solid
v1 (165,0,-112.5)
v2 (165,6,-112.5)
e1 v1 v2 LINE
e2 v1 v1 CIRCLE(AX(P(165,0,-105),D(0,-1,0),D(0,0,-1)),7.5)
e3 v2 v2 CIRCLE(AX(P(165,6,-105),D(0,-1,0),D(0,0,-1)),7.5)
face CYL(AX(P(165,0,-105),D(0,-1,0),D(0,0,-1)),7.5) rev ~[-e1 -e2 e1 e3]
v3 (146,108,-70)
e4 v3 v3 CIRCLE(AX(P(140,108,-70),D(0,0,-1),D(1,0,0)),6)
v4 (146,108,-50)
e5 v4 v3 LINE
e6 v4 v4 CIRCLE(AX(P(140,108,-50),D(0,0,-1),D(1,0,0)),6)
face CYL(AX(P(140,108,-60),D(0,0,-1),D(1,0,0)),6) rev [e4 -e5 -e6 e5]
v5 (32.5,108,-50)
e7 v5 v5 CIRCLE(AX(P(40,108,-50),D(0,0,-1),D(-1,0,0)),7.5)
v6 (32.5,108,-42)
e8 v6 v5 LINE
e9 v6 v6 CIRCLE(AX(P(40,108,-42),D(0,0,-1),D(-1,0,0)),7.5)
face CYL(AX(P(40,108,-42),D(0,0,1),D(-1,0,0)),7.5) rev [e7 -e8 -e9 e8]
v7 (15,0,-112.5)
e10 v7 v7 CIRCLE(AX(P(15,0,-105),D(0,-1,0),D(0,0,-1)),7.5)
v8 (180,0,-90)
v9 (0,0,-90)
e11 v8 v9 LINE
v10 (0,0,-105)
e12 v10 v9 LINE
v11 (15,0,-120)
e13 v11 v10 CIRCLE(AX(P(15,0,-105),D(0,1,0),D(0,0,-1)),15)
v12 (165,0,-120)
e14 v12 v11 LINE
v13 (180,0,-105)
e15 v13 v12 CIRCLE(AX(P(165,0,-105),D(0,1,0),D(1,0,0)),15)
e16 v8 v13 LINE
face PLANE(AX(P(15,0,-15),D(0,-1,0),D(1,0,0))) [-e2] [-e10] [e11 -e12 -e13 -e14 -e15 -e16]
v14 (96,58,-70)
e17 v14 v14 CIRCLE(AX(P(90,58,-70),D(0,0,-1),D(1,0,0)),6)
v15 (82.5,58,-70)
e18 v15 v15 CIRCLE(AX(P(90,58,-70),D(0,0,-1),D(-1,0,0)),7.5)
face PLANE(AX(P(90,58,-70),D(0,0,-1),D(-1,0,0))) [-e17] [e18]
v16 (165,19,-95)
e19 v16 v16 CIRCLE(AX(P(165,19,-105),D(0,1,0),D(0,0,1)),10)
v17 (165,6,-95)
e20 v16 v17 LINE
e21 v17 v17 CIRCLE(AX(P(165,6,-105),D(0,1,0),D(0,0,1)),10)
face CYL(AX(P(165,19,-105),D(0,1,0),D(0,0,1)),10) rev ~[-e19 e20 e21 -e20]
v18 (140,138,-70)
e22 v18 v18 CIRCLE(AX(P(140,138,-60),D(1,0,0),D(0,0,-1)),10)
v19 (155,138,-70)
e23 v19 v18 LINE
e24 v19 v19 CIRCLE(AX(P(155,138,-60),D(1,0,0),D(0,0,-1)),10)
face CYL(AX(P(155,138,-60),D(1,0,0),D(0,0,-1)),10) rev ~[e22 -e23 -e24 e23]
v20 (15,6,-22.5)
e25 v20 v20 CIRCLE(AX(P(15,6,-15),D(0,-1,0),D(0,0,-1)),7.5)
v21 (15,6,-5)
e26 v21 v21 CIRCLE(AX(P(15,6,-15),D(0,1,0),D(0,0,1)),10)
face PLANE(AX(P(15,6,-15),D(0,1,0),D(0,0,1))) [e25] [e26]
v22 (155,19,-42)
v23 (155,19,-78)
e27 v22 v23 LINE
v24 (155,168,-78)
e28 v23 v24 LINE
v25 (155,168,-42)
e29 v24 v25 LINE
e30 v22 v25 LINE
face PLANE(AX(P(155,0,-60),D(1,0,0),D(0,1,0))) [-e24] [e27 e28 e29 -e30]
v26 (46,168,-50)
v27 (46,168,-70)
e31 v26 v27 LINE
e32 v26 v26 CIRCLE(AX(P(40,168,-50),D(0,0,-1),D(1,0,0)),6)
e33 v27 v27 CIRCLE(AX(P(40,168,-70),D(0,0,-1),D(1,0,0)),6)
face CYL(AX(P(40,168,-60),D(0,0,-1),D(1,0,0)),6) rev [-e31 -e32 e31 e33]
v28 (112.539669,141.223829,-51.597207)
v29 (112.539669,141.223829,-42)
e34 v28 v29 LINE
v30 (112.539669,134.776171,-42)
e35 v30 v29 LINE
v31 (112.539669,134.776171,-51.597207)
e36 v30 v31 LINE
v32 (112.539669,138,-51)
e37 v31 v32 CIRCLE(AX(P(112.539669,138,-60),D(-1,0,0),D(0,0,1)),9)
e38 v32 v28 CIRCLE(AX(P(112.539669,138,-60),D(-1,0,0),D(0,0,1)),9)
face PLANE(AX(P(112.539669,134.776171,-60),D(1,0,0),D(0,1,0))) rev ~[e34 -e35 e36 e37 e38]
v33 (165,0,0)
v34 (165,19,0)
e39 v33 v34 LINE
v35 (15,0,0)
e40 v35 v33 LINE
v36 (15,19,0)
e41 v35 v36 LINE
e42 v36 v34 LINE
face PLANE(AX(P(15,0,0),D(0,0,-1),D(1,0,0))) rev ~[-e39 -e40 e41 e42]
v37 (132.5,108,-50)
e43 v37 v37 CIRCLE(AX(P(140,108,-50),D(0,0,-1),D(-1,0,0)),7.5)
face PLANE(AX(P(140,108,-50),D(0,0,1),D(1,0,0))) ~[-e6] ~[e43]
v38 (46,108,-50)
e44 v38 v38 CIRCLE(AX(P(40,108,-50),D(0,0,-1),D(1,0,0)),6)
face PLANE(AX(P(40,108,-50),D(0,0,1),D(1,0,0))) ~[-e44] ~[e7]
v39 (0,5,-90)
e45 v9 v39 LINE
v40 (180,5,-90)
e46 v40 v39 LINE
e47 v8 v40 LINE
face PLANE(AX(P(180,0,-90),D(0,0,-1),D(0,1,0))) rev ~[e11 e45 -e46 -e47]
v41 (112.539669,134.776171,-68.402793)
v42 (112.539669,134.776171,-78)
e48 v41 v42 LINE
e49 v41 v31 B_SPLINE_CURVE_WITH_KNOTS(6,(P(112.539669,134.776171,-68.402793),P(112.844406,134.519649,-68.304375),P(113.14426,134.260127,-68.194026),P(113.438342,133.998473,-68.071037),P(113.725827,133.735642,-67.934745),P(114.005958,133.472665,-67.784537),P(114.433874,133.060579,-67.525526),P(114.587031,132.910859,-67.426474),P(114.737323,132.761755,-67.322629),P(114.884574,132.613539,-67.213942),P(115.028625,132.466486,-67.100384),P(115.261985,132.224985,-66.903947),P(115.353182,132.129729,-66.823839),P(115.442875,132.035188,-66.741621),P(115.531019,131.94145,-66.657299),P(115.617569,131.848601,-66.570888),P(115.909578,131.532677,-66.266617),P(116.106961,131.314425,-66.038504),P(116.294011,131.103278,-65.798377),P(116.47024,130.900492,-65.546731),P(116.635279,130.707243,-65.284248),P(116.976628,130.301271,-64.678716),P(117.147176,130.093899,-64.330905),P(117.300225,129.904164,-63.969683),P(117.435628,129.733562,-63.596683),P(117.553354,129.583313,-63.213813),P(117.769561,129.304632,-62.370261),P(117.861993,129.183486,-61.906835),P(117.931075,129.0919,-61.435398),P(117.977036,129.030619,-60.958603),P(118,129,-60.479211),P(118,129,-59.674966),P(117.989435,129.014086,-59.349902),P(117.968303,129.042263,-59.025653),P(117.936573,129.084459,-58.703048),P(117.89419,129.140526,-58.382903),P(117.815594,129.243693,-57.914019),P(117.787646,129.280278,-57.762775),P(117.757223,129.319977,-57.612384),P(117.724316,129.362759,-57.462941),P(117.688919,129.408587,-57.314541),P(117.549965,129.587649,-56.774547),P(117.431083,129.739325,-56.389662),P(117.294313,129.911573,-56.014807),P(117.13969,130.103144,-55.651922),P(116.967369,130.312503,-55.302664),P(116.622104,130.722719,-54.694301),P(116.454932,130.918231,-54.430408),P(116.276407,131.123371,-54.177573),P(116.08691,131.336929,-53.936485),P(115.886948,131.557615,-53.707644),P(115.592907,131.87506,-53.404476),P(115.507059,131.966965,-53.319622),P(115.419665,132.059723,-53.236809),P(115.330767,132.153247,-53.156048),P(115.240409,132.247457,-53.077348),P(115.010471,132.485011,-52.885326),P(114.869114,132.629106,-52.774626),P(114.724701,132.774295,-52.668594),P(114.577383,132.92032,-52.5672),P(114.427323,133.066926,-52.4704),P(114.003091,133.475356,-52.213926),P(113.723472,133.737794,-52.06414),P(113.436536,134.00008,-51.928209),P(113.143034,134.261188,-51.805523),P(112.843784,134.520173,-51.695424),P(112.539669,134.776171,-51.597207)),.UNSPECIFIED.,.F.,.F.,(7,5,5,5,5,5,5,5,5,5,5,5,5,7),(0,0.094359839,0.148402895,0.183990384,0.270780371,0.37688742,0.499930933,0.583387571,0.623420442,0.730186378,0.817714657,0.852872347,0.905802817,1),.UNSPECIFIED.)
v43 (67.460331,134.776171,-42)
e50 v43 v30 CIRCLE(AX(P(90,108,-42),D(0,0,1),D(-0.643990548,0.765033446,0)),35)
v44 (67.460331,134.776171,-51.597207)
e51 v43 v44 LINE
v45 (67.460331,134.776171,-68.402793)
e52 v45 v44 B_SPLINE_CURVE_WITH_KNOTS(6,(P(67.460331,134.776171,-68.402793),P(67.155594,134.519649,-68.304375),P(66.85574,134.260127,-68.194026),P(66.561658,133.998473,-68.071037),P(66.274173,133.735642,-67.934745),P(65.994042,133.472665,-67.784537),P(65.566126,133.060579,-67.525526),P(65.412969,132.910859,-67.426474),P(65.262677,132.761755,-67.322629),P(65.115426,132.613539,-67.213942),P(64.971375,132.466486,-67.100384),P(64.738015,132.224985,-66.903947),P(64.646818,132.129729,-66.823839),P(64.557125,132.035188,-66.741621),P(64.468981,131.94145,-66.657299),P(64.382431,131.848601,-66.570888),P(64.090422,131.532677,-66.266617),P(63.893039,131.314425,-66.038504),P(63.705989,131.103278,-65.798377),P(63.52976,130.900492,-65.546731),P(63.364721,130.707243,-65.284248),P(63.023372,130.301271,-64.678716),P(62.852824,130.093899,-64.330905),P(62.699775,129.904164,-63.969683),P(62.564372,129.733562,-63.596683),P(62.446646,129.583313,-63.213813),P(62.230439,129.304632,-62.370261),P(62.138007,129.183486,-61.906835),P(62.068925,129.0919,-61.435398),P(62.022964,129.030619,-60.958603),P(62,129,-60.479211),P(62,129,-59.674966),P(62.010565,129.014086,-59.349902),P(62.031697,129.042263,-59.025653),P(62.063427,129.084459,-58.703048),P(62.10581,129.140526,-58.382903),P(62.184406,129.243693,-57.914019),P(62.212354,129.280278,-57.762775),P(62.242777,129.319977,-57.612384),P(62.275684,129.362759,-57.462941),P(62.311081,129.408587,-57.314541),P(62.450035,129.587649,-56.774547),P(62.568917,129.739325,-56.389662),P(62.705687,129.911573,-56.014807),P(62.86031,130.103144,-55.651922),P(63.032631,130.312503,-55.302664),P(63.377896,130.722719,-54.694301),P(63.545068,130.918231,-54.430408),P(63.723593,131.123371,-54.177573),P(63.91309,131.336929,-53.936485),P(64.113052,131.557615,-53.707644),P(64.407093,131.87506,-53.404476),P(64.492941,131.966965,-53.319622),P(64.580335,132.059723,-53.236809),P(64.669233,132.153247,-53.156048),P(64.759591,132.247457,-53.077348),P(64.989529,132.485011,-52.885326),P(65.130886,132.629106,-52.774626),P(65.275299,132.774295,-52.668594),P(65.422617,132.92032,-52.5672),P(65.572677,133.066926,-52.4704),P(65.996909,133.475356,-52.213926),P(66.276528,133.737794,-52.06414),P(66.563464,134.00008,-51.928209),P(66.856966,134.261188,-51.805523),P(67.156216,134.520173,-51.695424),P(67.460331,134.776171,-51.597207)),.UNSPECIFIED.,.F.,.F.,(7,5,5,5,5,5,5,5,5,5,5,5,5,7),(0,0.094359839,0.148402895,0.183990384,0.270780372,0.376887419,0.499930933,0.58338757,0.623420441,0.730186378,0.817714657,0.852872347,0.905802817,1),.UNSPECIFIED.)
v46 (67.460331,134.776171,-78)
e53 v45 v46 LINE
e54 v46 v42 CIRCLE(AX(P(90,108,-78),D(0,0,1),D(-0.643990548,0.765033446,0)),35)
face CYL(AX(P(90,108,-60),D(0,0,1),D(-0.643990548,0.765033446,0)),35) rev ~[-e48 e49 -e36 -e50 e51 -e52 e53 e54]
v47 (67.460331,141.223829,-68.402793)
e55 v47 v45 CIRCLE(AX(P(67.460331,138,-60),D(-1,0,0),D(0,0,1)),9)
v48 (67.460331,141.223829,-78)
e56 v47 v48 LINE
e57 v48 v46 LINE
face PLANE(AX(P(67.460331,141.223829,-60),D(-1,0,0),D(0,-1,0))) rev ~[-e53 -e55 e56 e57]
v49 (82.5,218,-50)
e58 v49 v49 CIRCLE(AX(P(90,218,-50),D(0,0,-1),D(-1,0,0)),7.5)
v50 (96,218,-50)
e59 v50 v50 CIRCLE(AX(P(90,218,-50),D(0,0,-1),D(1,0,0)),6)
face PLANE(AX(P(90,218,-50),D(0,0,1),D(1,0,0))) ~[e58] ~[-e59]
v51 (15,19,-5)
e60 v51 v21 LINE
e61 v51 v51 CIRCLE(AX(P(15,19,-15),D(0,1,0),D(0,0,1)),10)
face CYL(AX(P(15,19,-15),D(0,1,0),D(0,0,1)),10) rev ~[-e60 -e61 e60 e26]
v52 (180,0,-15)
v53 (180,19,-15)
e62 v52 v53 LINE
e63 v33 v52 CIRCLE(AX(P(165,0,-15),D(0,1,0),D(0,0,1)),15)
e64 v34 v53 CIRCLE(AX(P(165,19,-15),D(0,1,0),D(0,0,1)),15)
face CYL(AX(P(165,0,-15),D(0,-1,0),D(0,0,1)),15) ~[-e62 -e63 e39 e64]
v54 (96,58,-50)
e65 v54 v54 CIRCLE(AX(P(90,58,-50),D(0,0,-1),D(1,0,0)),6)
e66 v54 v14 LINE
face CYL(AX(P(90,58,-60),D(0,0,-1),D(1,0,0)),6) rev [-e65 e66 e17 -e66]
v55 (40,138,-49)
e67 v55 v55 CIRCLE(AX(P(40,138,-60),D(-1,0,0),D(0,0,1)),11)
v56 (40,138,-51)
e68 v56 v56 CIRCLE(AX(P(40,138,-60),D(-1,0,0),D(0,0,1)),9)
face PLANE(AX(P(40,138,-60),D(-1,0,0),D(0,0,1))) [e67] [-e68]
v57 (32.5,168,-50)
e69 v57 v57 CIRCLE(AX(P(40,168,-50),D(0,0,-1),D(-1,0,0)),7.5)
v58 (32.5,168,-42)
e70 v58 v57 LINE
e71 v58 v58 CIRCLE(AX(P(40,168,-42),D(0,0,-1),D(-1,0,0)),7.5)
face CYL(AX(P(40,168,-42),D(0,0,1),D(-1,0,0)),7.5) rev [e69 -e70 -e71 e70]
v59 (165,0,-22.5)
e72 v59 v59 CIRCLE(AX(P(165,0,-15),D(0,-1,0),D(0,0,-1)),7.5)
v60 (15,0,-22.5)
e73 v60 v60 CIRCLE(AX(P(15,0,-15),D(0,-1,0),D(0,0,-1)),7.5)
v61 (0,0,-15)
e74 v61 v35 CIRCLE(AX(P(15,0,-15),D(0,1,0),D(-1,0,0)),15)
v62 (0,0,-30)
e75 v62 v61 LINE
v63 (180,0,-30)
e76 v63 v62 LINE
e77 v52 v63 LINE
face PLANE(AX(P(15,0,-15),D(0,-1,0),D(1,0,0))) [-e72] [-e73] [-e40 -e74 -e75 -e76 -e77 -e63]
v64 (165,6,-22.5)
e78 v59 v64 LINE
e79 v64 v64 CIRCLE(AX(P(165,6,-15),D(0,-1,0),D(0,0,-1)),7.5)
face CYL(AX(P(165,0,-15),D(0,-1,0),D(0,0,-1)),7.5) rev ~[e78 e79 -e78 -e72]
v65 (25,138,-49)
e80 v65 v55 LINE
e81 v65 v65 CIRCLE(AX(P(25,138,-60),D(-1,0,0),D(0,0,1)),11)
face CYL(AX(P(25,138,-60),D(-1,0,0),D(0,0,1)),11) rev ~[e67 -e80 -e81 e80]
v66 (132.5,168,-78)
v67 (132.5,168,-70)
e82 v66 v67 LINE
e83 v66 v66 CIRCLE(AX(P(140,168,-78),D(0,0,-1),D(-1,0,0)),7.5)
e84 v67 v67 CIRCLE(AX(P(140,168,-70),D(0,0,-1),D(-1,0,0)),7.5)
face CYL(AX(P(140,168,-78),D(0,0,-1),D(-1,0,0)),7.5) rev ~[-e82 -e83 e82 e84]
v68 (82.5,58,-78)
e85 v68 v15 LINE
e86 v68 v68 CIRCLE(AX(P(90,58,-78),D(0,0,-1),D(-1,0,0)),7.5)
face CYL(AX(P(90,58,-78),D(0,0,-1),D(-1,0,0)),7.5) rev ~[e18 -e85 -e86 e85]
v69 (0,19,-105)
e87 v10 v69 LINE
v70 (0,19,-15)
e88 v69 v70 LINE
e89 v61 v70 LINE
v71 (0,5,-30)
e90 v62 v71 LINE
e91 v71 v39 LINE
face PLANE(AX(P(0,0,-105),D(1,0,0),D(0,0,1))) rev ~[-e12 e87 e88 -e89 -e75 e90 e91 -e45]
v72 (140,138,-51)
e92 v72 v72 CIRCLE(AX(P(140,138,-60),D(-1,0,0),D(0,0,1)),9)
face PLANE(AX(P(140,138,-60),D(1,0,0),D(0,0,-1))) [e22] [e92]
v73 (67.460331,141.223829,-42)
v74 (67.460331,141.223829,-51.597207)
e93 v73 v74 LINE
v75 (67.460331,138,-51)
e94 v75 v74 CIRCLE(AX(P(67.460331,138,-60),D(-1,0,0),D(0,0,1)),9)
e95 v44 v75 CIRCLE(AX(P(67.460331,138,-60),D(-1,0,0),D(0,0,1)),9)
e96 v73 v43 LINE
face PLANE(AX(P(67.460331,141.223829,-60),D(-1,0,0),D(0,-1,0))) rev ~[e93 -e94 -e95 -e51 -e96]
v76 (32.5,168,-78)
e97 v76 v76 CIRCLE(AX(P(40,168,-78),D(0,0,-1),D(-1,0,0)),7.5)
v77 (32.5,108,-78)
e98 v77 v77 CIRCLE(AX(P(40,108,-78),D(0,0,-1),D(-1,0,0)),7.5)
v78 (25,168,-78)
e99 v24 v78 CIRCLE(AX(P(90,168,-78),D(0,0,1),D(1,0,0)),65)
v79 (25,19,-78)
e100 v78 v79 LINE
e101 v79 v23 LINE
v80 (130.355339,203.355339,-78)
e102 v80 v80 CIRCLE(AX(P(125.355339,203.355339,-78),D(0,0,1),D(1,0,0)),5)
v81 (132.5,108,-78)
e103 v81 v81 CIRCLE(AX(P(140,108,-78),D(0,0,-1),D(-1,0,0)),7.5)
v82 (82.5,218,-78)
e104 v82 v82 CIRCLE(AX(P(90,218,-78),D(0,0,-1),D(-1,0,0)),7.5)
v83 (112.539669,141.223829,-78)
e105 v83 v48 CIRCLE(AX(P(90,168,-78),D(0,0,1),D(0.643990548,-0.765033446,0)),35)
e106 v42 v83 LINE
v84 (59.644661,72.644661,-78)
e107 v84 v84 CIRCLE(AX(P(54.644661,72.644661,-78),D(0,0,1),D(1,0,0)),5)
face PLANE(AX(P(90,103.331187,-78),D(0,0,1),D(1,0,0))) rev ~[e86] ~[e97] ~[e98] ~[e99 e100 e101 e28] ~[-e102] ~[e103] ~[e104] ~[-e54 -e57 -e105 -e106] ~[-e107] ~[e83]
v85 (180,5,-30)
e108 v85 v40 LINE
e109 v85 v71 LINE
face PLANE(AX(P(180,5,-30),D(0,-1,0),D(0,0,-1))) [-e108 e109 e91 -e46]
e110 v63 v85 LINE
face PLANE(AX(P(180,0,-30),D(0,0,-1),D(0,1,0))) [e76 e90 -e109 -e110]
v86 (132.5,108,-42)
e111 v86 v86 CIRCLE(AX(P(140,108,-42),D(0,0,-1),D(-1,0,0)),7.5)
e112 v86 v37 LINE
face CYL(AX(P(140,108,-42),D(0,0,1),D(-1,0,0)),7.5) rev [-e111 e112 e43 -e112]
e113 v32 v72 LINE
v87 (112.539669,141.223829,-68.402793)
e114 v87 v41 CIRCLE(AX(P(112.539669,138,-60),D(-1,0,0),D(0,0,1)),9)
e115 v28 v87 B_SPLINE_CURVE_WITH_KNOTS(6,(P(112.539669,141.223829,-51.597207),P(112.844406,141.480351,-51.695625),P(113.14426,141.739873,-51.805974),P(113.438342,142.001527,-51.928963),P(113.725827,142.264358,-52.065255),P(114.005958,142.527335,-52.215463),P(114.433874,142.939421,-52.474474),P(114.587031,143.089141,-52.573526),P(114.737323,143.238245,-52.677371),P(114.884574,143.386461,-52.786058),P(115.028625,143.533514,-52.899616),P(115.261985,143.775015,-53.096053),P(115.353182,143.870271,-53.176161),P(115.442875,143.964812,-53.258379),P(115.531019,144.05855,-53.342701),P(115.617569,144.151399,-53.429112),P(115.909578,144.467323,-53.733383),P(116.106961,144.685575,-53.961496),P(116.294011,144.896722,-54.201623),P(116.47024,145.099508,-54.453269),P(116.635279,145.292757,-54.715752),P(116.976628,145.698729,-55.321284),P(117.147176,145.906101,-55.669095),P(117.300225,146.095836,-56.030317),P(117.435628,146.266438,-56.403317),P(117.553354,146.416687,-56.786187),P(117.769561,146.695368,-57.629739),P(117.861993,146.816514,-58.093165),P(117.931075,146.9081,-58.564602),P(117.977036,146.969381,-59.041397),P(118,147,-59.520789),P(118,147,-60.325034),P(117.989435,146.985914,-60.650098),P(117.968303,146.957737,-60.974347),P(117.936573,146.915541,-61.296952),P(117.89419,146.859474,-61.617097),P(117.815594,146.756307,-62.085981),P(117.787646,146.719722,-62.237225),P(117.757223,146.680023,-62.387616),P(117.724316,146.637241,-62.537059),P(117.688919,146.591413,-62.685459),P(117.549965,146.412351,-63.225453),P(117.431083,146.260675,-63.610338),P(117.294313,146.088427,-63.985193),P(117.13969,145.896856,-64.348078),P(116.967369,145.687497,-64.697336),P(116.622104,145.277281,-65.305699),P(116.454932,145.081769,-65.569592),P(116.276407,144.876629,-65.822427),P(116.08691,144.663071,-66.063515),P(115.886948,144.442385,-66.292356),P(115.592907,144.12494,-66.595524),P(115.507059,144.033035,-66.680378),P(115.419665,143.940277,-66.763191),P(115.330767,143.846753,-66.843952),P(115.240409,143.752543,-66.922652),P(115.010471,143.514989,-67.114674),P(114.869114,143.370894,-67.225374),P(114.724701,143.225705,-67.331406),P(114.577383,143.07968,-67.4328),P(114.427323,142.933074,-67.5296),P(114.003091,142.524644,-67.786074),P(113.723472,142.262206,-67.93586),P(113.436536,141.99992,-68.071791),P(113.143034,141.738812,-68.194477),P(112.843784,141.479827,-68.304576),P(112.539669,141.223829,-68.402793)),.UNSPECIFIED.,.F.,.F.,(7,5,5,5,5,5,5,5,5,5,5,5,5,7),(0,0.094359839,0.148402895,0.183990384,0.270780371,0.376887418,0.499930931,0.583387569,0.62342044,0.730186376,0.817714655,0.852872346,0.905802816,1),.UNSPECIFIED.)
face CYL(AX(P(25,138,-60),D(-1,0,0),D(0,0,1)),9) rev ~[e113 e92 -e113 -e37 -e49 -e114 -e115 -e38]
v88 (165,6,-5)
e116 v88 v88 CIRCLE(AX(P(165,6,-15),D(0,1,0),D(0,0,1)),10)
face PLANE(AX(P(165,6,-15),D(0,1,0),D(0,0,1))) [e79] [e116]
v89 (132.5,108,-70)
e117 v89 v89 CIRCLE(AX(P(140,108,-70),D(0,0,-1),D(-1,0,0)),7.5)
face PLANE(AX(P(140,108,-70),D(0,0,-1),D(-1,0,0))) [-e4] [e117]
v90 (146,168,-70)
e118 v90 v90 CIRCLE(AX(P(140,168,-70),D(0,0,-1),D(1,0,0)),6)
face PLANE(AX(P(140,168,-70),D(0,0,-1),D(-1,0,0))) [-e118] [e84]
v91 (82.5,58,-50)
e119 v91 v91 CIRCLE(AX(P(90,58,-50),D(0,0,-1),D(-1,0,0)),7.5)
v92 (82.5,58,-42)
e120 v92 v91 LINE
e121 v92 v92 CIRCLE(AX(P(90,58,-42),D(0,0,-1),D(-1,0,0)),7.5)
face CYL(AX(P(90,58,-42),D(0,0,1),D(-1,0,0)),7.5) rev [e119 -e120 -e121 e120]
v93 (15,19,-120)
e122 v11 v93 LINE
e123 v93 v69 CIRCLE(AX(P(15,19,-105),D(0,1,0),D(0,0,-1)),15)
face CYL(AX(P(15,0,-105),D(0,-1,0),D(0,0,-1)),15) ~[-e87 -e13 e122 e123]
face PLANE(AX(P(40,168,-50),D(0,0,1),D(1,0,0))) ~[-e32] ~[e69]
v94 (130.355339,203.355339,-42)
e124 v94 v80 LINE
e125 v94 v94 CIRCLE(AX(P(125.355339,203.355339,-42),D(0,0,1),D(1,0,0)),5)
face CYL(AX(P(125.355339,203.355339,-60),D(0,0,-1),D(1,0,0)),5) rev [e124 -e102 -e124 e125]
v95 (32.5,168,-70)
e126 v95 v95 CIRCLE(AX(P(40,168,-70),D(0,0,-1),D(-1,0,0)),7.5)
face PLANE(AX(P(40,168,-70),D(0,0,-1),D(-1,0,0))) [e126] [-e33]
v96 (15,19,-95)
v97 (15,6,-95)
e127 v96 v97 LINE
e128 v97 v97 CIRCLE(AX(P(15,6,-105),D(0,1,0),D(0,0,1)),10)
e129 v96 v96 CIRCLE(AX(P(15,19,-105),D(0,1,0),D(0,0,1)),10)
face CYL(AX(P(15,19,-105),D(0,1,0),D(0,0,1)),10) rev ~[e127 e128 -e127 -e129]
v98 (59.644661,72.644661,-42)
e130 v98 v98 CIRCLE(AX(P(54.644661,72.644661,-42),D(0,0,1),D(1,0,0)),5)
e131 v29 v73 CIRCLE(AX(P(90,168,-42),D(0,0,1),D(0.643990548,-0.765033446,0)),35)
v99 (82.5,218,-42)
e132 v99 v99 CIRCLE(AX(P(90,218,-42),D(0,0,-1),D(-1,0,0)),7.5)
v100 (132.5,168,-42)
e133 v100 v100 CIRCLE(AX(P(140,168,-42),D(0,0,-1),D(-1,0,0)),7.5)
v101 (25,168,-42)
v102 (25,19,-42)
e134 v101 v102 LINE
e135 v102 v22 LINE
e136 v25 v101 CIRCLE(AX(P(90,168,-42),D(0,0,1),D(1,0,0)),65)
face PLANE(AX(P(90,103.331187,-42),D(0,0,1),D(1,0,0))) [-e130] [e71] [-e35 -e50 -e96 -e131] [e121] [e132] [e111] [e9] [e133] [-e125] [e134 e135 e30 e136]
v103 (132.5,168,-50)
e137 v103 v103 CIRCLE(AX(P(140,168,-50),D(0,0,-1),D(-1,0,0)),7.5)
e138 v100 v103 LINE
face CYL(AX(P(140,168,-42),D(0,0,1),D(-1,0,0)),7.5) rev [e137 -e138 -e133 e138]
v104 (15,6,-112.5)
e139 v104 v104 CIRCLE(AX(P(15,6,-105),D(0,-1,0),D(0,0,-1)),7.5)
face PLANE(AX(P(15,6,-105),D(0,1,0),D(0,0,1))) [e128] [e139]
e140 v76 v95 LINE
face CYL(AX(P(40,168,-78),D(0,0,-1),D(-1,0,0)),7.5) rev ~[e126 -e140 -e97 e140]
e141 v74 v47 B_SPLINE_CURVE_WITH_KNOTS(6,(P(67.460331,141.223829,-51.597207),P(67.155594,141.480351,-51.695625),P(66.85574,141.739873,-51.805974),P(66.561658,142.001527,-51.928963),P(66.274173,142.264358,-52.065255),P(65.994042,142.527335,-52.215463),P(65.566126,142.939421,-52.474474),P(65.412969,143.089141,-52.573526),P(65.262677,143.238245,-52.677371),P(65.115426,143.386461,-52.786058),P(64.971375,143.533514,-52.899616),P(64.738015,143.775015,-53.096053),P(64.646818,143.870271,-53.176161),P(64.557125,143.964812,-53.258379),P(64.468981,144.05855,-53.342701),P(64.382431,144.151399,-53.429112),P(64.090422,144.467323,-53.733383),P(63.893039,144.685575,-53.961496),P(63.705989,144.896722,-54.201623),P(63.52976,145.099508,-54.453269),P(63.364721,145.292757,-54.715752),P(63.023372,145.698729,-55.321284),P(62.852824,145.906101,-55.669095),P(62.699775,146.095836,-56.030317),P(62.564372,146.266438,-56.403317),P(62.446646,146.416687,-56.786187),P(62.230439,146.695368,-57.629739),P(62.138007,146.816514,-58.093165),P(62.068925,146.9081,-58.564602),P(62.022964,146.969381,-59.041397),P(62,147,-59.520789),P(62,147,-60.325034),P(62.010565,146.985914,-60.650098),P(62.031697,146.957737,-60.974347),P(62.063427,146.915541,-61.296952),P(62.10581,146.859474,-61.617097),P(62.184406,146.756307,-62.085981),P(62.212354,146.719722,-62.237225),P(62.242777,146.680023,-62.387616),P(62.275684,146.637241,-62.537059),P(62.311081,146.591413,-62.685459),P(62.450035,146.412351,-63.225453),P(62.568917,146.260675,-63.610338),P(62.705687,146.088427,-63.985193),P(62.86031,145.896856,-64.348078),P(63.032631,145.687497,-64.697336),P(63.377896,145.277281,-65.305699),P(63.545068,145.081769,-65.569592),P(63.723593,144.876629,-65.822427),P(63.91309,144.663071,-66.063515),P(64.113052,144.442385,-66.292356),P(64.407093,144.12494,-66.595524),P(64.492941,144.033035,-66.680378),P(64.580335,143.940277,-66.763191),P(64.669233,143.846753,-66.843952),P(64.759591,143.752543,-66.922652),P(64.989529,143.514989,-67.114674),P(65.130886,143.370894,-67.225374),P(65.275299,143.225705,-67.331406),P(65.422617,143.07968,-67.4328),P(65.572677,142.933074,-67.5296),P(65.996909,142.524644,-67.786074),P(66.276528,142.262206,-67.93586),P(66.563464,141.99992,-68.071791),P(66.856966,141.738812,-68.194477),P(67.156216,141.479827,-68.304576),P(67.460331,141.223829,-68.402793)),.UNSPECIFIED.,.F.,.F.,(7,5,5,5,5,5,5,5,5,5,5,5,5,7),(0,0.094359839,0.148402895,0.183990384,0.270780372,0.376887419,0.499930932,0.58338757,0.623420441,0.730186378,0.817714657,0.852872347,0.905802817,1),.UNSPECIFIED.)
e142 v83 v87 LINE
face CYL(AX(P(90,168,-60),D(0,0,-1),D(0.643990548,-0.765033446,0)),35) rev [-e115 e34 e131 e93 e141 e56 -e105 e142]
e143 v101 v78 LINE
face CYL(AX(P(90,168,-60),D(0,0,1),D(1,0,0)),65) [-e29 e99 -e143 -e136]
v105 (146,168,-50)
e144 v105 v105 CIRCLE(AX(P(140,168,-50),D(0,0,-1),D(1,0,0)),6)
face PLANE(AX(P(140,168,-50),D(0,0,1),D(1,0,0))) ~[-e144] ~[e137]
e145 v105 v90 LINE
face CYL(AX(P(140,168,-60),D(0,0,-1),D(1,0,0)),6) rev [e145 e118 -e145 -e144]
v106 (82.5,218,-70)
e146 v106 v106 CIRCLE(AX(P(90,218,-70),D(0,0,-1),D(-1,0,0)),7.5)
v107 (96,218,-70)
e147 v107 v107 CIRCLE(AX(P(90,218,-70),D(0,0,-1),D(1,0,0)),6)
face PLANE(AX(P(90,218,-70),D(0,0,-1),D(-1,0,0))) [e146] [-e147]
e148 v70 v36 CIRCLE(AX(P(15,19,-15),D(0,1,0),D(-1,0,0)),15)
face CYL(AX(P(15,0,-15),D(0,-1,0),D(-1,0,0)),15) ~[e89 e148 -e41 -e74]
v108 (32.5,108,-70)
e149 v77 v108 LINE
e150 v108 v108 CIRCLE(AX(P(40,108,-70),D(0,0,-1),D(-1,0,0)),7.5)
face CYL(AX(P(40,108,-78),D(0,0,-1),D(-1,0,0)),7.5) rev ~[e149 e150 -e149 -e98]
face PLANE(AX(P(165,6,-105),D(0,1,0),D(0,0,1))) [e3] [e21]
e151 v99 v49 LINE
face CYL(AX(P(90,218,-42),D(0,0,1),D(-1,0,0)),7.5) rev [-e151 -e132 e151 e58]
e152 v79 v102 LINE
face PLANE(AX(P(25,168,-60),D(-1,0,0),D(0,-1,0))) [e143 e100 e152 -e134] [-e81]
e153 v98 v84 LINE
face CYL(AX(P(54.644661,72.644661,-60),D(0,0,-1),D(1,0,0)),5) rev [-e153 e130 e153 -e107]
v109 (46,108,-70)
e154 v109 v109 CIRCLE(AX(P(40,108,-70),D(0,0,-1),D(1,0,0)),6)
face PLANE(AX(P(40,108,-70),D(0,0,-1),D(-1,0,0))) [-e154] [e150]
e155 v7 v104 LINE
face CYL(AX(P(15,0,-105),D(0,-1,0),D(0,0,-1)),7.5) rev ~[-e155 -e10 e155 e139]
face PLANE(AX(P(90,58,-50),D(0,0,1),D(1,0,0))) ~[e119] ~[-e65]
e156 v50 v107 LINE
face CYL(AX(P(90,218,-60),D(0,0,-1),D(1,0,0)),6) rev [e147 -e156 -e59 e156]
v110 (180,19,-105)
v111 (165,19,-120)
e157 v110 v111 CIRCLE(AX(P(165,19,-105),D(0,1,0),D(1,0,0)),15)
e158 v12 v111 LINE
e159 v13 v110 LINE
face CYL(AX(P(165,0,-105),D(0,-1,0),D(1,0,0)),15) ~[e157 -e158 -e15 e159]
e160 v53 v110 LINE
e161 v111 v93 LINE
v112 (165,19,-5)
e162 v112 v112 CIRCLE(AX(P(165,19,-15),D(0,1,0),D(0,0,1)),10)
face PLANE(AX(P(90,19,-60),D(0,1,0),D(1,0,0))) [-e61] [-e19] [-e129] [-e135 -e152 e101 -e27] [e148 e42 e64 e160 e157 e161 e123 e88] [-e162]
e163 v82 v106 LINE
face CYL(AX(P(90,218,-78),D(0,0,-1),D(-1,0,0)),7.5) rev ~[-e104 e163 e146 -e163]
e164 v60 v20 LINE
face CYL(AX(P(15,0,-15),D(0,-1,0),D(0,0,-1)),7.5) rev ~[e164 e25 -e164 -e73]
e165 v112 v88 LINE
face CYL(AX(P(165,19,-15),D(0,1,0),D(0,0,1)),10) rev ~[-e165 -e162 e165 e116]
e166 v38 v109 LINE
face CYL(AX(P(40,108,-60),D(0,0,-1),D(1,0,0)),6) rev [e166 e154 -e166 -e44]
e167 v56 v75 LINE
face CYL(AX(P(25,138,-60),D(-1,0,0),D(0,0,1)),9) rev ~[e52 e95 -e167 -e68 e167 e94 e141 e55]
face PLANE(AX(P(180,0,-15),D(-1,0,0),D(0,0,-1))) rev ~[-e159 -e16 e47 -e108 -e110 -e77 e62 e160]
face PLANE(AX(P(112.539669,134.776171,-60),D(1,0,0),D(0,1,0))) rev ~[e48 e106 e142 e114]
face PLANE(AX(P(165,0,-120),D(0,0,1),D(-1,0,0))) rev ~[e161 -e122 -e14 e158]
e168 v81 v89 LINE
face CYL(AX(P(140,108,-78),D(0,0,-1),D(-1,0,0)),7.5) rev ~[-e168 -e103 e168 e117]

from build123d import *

# Parameters (mm, degrees)
SKETCH1_R           = 7.5
BOSS_EXTRUDE1_DEPTH = 19
SKETCH1_3_R         = 10
SKETCH1_3_R_2       = 7.5
CUT_EXTRUDE1_DEPTH  = 13
SKETCH2_R           = 6
SKETCH2_R_2         = 5
BOSS_EXTRUDE3_DEPTH = 18
SKETCH11_R          = 10
SKETCH11_R_2        = 7.5
BOSS_EXTRUDE4_DEPTH = 13
SKETCH12_R          = 10
CUT_EXTRUDE7_DEPTH  = 13
SKETCH3_W           = 60
SKETCH3_H           = 5
CUT_EXTRUDE2_DEPTH  = 180
SKETCH4_R           = 7.5
CUT_EXTRUDE3_DEPTH  = 8
SKETCH5_R           = 9
CUT_EXTRUDE4_DEPTH  = 130
SKETCH6_R           = 11
CUT_EXTRUDE5_DEPTH  = 15
SKETCH7_R           = 10
CUT_EXTRUDE6_DEPTH  = 15


with BuildPart() as part:
    # Sketch1 → Boss-Extrude1 (new body)
    with BuildSketch(Plane(origin=(0, 0, 0), x_dir=(1, 0, 0), z_dir=(0, 1, 0))):
        with BuildLine():
            ThreePointArc((0, 15), (4.393398282, 4.393398282), (15, 0))
            Line((15, 0), (165, 0))
            ThreePointArc((165, 0), (175.606601718, 4.393398282), (180, 15))
            Line((180, 15), (180, 105))
            ThreePointArc((180, 105), (175.606601718, 115.606601718), (165, 120))
            Line((165, 120), (15, 120))
            ThreePointArc((15, 120), (4.393398282, 115.606601718), (0, 105))
            Line((0, 105), (0, 15))
        make_face()
        with Locations((15, 15)):
            Circle(SKETCH1_R, mode=Mode.SUBTRACT)
        with Locations((165, 15)):
            Circle(SKETCH1_R, mode=Mode.SUBTRACT)
        with Locations((15, 105)):
            Circle(SKETCH1_R, mode=Mode.SUBTRACT)
        with Locations((165, 105)):
            Circle(SKETCH1_R, mode=Mode.SUBTRACT)
    extrude(amount=BOSS_EXTRUDE1_DEPTH)

    # Sketch1<3> → Cut-Extrude1 (cut)
    # profile 1 of 4: a face of its own
    with BuildSketch(Plane(origin=(0, 0, 0), x_dir=(1, 0, 0), z_dir=(0, 1, 0))):
        with Locations((15, 105)):
            Circle(SKETCH1_3_R)
        with Locations((15, 105)):
            Circle(SKETCH1_3_R_2, mode=Mode.SUBTRACT)
    # profile 2 of 4: a face of its own
    with BuildSketch(Plane(origin=(0, 0, 0), x_dir=(1, 0, 0), z_dir=(0, 1, 0))):
        with Locations((165, 105)):
            Circle(SKETCH1_3_R)
        with Locations((165, 105)):
            Circle(SKETCH1_3_R_2, mode=Mode.SUBTRACT)
    # profile 3 of 4: a face of its own
    with BuildSketch(Plane(origin=(0, 0, 0), x_dir=(1, 0, 0), z_dir=(0, 1, 0))):
        with Locations((165, 15)):
            Circle(SKETCH1_3_R)
        with Locations((165, 15)):
            Circle(SKETCH1_3_R_2, mode=Mode.SUBTRACT)
    # profile 4 of 4: a face of its own
    with BuildSketch(Plane(origin=(0, 0, 0), x_dir=(1, 0, 0), z_dir=(0, 1, 0))):
        with Locations((15, 15)):
            Circle(SKETCH1_3_R)
        with Locations((15, 15)):
            Circle(SKETCH1_3_R_2, mode=Mode.SUBTRACT)
    extrude(amount=CUT_EXTRUDE1_DEPTH, mode=Mode.SUBTRACT)

    # Sketch2 → Boss-Extrude3 (add, symmetric)
    with BuildSketch(Plane.XY.offset(-60)):
        with BuildLine():
            Line((25, 0), (155, 0))
            Line((155, 0), (155, 168))
            ThreePointArc((155, 168), (90, 233), (25, 168))
            Line((25, 168), (25, 0))
        make_face()
        with Locations((90, 218)):
            Circle(SKETCH2_R, mode=Mode.SUBTRACT)
        with Locations((140, 168)):
            Circle(SKETCH2_R, mode=Mode.SUBTRACT)
        with Locations((90, 58)):
            Circle(SKETCH2_R, mode=Mode.SUBTRACT)
        with Locations((40, 168)):
            Circle(SKETCH2_R, mode=Mode.SUBTRACT)
        with Locations((40, 108)):
            Circle(SKETCH2_R, mode=Mode.SUBTRACT)
        with Locations((140, 108)):
            Circle(SKETCH2_R, mode=Mode.SUBTRACT)
        with Locations((54.644660941, 72.644660941)):
            Circle(SKETCH2_R_2, mode=Mode.SUBTRACT)
        with Locations((125.355339059, 203.355339059)):
            Circle(SKETCH2_R_2, mode=Mode.SUBTRACT)
        with BuildLine():
            Line((67.460330813, 141.223829382), (67.460330813, 134.776170618))
            ThreePointArc((67.460330813, 134.776170618), (90, 73), (112.539669187, 134.776170618))
            Line((112.539669187, 134.776170618), (112.539669187, 141.223829382))
            ThreePointArc((112.539669187, 141.223829382), (90, 203), (67.460330813, 141.223829382))
        make_face(mode=Mode.SUBTRACT)
    extrude(amount=BOSS_EXTRUDE3_DEPTH, both=True)

    # Sketch11 → Boss-Extrude4 (add)
    # profile 1 of 4: a face of its own
    with BuildSketch(Plane.XZ):
        with Locations((15, -15)):
            Circle(SKETCH11_R)
        with Locations((15, -15)):
            Circle(SKETCH11_R_2, mode=Mode.SUBTRACT)
    # profile 2 of 4: a face of its own
    with BuildSketch(Plane.XZ):
        with Locations((165, -15)):
            Circle(SKETCH11_R)
        with Locations((165, -15)):
            Circle(SKETCH11_R_2, mode=Mode.SUBTRACT)
    # profile 3 of 4: a face of its own
    with BuildSketch(Plane.XZ):
        with Locations((165, -105)):
            Circle(SKETCH11_R)
        with Locations((165, -105)):
            Circle(SKETCH11_R_2, mode=Mode.SUBTRACT)
    # profile 4 of 4: a face of its own
    with BuildSketch(Plane.XZ):
        with Locations((15, -105)):
            Circle(SKETCH11_R)
        with Locations((15, -105)):
            Circle(SKETCH11_R_2, mode=Mode.SUBTRACT)
    extrude(amount=-BOSS_EXTRUDE4_DEPTH)

    # Sketch12 → Cut-Extrude7 (cut)
    with BuildSketch(Plane(origin=(0, 19, 0), x_dir=(1, 0, 0), z_dir=(0, 1, 0))):
        with Locations((15, 105)):
            Circle(SKETCH12_R)
        with Locations((165, 105)):
            Circle(SKETCH12_R)
        with Locations((165, 15)):
            Circle(SKETCH12_R)
        with Locations((15, 15)):
            Circle(SKETCH12_R)
    extrude(amount=-CUT_EXTRUDE7_DEPTH, mode=Mode.SUBTRACT)

    # Sketch3 → Cut-Extrude2 (cut)
    with BuildSketch(Plane(origin=(180, 0, 0), x_dir=(0, 0, -1), z_dir=(1, 0, 0))):
        with Locations((60, 2.5)):
            Rectangle(SKETCH3_W, SKETCH3_H)
    extrude(amount=-CUT_EXTRUDE2_DEPTH, mode=Mode.SUBTRACT)

    # Sketch4 → Cut-Extrude3 (cut)
    with BuildSketch(Plane(origin=(0, 0, -78), x_dir=(-1, 0, 0), z_dir=(0, 0, -1))):
        with Locations((-90, 218)):
            Circle(SKETCH4_R)
        with Locations((-40, 168)):
            Circle(SKETCH4_R)
        with Locations((-40, 108)):
            Circle(SKETCH4_R)
        with Locations((-90, 58)):
            Circle(SKETCH4_R)
        with Locations((-140, 108)):
            Circle(SKETCH4_R)
        with Locations((-140, 168)):
            Circle(SKETCH4_R)
    cut_extrude3 = extrude(amount=-CUT_EXTRUDE3_DEPTH, mode=Mode.SUBTRACT)

    # Mirror1: Cut-Extrude3 across plane
    add(cut_extrude3.mirror(Plane.XY.offset(-60)), mode=Mode.SUBTRACT)

    # Sketch5 → Cut-Extrude4 (cut)
    with BuildSketch(Plane.ZY.offset(-25)):
        with Locations((-60, 138)):
            Circle(SKETCH5_R)
    extrude(amount=-CUT_EXTRUDE4_DEPTH, mode=Mode.SUBTRACT)

    # Sketch6 → Cut-Extrude5 (cut)
    with BuildSketch(Plane.ZY.offset(-25)):
        with Locations((-60, 138)):
            Circle(SKETCH6_R)
    extrude(amount=-CUT_EXTRUDE5_DEPTH, mode=Mode.SUBTRACT)

    # Sketch7 → Cut-Extrude6 (cut)
    with BuildSketch(Plane(origin=(155, 0, 0), x_dir=(0, 0, -1), z_dir=(1, 0, 0))):
        with Locations((60, 138)):
            Circle(SKETCH7_R)
    extrude(amount=-CUT_EXTRUDE6_DEPTH, mode=Mode.SUBTRACT)


solid = part.part
